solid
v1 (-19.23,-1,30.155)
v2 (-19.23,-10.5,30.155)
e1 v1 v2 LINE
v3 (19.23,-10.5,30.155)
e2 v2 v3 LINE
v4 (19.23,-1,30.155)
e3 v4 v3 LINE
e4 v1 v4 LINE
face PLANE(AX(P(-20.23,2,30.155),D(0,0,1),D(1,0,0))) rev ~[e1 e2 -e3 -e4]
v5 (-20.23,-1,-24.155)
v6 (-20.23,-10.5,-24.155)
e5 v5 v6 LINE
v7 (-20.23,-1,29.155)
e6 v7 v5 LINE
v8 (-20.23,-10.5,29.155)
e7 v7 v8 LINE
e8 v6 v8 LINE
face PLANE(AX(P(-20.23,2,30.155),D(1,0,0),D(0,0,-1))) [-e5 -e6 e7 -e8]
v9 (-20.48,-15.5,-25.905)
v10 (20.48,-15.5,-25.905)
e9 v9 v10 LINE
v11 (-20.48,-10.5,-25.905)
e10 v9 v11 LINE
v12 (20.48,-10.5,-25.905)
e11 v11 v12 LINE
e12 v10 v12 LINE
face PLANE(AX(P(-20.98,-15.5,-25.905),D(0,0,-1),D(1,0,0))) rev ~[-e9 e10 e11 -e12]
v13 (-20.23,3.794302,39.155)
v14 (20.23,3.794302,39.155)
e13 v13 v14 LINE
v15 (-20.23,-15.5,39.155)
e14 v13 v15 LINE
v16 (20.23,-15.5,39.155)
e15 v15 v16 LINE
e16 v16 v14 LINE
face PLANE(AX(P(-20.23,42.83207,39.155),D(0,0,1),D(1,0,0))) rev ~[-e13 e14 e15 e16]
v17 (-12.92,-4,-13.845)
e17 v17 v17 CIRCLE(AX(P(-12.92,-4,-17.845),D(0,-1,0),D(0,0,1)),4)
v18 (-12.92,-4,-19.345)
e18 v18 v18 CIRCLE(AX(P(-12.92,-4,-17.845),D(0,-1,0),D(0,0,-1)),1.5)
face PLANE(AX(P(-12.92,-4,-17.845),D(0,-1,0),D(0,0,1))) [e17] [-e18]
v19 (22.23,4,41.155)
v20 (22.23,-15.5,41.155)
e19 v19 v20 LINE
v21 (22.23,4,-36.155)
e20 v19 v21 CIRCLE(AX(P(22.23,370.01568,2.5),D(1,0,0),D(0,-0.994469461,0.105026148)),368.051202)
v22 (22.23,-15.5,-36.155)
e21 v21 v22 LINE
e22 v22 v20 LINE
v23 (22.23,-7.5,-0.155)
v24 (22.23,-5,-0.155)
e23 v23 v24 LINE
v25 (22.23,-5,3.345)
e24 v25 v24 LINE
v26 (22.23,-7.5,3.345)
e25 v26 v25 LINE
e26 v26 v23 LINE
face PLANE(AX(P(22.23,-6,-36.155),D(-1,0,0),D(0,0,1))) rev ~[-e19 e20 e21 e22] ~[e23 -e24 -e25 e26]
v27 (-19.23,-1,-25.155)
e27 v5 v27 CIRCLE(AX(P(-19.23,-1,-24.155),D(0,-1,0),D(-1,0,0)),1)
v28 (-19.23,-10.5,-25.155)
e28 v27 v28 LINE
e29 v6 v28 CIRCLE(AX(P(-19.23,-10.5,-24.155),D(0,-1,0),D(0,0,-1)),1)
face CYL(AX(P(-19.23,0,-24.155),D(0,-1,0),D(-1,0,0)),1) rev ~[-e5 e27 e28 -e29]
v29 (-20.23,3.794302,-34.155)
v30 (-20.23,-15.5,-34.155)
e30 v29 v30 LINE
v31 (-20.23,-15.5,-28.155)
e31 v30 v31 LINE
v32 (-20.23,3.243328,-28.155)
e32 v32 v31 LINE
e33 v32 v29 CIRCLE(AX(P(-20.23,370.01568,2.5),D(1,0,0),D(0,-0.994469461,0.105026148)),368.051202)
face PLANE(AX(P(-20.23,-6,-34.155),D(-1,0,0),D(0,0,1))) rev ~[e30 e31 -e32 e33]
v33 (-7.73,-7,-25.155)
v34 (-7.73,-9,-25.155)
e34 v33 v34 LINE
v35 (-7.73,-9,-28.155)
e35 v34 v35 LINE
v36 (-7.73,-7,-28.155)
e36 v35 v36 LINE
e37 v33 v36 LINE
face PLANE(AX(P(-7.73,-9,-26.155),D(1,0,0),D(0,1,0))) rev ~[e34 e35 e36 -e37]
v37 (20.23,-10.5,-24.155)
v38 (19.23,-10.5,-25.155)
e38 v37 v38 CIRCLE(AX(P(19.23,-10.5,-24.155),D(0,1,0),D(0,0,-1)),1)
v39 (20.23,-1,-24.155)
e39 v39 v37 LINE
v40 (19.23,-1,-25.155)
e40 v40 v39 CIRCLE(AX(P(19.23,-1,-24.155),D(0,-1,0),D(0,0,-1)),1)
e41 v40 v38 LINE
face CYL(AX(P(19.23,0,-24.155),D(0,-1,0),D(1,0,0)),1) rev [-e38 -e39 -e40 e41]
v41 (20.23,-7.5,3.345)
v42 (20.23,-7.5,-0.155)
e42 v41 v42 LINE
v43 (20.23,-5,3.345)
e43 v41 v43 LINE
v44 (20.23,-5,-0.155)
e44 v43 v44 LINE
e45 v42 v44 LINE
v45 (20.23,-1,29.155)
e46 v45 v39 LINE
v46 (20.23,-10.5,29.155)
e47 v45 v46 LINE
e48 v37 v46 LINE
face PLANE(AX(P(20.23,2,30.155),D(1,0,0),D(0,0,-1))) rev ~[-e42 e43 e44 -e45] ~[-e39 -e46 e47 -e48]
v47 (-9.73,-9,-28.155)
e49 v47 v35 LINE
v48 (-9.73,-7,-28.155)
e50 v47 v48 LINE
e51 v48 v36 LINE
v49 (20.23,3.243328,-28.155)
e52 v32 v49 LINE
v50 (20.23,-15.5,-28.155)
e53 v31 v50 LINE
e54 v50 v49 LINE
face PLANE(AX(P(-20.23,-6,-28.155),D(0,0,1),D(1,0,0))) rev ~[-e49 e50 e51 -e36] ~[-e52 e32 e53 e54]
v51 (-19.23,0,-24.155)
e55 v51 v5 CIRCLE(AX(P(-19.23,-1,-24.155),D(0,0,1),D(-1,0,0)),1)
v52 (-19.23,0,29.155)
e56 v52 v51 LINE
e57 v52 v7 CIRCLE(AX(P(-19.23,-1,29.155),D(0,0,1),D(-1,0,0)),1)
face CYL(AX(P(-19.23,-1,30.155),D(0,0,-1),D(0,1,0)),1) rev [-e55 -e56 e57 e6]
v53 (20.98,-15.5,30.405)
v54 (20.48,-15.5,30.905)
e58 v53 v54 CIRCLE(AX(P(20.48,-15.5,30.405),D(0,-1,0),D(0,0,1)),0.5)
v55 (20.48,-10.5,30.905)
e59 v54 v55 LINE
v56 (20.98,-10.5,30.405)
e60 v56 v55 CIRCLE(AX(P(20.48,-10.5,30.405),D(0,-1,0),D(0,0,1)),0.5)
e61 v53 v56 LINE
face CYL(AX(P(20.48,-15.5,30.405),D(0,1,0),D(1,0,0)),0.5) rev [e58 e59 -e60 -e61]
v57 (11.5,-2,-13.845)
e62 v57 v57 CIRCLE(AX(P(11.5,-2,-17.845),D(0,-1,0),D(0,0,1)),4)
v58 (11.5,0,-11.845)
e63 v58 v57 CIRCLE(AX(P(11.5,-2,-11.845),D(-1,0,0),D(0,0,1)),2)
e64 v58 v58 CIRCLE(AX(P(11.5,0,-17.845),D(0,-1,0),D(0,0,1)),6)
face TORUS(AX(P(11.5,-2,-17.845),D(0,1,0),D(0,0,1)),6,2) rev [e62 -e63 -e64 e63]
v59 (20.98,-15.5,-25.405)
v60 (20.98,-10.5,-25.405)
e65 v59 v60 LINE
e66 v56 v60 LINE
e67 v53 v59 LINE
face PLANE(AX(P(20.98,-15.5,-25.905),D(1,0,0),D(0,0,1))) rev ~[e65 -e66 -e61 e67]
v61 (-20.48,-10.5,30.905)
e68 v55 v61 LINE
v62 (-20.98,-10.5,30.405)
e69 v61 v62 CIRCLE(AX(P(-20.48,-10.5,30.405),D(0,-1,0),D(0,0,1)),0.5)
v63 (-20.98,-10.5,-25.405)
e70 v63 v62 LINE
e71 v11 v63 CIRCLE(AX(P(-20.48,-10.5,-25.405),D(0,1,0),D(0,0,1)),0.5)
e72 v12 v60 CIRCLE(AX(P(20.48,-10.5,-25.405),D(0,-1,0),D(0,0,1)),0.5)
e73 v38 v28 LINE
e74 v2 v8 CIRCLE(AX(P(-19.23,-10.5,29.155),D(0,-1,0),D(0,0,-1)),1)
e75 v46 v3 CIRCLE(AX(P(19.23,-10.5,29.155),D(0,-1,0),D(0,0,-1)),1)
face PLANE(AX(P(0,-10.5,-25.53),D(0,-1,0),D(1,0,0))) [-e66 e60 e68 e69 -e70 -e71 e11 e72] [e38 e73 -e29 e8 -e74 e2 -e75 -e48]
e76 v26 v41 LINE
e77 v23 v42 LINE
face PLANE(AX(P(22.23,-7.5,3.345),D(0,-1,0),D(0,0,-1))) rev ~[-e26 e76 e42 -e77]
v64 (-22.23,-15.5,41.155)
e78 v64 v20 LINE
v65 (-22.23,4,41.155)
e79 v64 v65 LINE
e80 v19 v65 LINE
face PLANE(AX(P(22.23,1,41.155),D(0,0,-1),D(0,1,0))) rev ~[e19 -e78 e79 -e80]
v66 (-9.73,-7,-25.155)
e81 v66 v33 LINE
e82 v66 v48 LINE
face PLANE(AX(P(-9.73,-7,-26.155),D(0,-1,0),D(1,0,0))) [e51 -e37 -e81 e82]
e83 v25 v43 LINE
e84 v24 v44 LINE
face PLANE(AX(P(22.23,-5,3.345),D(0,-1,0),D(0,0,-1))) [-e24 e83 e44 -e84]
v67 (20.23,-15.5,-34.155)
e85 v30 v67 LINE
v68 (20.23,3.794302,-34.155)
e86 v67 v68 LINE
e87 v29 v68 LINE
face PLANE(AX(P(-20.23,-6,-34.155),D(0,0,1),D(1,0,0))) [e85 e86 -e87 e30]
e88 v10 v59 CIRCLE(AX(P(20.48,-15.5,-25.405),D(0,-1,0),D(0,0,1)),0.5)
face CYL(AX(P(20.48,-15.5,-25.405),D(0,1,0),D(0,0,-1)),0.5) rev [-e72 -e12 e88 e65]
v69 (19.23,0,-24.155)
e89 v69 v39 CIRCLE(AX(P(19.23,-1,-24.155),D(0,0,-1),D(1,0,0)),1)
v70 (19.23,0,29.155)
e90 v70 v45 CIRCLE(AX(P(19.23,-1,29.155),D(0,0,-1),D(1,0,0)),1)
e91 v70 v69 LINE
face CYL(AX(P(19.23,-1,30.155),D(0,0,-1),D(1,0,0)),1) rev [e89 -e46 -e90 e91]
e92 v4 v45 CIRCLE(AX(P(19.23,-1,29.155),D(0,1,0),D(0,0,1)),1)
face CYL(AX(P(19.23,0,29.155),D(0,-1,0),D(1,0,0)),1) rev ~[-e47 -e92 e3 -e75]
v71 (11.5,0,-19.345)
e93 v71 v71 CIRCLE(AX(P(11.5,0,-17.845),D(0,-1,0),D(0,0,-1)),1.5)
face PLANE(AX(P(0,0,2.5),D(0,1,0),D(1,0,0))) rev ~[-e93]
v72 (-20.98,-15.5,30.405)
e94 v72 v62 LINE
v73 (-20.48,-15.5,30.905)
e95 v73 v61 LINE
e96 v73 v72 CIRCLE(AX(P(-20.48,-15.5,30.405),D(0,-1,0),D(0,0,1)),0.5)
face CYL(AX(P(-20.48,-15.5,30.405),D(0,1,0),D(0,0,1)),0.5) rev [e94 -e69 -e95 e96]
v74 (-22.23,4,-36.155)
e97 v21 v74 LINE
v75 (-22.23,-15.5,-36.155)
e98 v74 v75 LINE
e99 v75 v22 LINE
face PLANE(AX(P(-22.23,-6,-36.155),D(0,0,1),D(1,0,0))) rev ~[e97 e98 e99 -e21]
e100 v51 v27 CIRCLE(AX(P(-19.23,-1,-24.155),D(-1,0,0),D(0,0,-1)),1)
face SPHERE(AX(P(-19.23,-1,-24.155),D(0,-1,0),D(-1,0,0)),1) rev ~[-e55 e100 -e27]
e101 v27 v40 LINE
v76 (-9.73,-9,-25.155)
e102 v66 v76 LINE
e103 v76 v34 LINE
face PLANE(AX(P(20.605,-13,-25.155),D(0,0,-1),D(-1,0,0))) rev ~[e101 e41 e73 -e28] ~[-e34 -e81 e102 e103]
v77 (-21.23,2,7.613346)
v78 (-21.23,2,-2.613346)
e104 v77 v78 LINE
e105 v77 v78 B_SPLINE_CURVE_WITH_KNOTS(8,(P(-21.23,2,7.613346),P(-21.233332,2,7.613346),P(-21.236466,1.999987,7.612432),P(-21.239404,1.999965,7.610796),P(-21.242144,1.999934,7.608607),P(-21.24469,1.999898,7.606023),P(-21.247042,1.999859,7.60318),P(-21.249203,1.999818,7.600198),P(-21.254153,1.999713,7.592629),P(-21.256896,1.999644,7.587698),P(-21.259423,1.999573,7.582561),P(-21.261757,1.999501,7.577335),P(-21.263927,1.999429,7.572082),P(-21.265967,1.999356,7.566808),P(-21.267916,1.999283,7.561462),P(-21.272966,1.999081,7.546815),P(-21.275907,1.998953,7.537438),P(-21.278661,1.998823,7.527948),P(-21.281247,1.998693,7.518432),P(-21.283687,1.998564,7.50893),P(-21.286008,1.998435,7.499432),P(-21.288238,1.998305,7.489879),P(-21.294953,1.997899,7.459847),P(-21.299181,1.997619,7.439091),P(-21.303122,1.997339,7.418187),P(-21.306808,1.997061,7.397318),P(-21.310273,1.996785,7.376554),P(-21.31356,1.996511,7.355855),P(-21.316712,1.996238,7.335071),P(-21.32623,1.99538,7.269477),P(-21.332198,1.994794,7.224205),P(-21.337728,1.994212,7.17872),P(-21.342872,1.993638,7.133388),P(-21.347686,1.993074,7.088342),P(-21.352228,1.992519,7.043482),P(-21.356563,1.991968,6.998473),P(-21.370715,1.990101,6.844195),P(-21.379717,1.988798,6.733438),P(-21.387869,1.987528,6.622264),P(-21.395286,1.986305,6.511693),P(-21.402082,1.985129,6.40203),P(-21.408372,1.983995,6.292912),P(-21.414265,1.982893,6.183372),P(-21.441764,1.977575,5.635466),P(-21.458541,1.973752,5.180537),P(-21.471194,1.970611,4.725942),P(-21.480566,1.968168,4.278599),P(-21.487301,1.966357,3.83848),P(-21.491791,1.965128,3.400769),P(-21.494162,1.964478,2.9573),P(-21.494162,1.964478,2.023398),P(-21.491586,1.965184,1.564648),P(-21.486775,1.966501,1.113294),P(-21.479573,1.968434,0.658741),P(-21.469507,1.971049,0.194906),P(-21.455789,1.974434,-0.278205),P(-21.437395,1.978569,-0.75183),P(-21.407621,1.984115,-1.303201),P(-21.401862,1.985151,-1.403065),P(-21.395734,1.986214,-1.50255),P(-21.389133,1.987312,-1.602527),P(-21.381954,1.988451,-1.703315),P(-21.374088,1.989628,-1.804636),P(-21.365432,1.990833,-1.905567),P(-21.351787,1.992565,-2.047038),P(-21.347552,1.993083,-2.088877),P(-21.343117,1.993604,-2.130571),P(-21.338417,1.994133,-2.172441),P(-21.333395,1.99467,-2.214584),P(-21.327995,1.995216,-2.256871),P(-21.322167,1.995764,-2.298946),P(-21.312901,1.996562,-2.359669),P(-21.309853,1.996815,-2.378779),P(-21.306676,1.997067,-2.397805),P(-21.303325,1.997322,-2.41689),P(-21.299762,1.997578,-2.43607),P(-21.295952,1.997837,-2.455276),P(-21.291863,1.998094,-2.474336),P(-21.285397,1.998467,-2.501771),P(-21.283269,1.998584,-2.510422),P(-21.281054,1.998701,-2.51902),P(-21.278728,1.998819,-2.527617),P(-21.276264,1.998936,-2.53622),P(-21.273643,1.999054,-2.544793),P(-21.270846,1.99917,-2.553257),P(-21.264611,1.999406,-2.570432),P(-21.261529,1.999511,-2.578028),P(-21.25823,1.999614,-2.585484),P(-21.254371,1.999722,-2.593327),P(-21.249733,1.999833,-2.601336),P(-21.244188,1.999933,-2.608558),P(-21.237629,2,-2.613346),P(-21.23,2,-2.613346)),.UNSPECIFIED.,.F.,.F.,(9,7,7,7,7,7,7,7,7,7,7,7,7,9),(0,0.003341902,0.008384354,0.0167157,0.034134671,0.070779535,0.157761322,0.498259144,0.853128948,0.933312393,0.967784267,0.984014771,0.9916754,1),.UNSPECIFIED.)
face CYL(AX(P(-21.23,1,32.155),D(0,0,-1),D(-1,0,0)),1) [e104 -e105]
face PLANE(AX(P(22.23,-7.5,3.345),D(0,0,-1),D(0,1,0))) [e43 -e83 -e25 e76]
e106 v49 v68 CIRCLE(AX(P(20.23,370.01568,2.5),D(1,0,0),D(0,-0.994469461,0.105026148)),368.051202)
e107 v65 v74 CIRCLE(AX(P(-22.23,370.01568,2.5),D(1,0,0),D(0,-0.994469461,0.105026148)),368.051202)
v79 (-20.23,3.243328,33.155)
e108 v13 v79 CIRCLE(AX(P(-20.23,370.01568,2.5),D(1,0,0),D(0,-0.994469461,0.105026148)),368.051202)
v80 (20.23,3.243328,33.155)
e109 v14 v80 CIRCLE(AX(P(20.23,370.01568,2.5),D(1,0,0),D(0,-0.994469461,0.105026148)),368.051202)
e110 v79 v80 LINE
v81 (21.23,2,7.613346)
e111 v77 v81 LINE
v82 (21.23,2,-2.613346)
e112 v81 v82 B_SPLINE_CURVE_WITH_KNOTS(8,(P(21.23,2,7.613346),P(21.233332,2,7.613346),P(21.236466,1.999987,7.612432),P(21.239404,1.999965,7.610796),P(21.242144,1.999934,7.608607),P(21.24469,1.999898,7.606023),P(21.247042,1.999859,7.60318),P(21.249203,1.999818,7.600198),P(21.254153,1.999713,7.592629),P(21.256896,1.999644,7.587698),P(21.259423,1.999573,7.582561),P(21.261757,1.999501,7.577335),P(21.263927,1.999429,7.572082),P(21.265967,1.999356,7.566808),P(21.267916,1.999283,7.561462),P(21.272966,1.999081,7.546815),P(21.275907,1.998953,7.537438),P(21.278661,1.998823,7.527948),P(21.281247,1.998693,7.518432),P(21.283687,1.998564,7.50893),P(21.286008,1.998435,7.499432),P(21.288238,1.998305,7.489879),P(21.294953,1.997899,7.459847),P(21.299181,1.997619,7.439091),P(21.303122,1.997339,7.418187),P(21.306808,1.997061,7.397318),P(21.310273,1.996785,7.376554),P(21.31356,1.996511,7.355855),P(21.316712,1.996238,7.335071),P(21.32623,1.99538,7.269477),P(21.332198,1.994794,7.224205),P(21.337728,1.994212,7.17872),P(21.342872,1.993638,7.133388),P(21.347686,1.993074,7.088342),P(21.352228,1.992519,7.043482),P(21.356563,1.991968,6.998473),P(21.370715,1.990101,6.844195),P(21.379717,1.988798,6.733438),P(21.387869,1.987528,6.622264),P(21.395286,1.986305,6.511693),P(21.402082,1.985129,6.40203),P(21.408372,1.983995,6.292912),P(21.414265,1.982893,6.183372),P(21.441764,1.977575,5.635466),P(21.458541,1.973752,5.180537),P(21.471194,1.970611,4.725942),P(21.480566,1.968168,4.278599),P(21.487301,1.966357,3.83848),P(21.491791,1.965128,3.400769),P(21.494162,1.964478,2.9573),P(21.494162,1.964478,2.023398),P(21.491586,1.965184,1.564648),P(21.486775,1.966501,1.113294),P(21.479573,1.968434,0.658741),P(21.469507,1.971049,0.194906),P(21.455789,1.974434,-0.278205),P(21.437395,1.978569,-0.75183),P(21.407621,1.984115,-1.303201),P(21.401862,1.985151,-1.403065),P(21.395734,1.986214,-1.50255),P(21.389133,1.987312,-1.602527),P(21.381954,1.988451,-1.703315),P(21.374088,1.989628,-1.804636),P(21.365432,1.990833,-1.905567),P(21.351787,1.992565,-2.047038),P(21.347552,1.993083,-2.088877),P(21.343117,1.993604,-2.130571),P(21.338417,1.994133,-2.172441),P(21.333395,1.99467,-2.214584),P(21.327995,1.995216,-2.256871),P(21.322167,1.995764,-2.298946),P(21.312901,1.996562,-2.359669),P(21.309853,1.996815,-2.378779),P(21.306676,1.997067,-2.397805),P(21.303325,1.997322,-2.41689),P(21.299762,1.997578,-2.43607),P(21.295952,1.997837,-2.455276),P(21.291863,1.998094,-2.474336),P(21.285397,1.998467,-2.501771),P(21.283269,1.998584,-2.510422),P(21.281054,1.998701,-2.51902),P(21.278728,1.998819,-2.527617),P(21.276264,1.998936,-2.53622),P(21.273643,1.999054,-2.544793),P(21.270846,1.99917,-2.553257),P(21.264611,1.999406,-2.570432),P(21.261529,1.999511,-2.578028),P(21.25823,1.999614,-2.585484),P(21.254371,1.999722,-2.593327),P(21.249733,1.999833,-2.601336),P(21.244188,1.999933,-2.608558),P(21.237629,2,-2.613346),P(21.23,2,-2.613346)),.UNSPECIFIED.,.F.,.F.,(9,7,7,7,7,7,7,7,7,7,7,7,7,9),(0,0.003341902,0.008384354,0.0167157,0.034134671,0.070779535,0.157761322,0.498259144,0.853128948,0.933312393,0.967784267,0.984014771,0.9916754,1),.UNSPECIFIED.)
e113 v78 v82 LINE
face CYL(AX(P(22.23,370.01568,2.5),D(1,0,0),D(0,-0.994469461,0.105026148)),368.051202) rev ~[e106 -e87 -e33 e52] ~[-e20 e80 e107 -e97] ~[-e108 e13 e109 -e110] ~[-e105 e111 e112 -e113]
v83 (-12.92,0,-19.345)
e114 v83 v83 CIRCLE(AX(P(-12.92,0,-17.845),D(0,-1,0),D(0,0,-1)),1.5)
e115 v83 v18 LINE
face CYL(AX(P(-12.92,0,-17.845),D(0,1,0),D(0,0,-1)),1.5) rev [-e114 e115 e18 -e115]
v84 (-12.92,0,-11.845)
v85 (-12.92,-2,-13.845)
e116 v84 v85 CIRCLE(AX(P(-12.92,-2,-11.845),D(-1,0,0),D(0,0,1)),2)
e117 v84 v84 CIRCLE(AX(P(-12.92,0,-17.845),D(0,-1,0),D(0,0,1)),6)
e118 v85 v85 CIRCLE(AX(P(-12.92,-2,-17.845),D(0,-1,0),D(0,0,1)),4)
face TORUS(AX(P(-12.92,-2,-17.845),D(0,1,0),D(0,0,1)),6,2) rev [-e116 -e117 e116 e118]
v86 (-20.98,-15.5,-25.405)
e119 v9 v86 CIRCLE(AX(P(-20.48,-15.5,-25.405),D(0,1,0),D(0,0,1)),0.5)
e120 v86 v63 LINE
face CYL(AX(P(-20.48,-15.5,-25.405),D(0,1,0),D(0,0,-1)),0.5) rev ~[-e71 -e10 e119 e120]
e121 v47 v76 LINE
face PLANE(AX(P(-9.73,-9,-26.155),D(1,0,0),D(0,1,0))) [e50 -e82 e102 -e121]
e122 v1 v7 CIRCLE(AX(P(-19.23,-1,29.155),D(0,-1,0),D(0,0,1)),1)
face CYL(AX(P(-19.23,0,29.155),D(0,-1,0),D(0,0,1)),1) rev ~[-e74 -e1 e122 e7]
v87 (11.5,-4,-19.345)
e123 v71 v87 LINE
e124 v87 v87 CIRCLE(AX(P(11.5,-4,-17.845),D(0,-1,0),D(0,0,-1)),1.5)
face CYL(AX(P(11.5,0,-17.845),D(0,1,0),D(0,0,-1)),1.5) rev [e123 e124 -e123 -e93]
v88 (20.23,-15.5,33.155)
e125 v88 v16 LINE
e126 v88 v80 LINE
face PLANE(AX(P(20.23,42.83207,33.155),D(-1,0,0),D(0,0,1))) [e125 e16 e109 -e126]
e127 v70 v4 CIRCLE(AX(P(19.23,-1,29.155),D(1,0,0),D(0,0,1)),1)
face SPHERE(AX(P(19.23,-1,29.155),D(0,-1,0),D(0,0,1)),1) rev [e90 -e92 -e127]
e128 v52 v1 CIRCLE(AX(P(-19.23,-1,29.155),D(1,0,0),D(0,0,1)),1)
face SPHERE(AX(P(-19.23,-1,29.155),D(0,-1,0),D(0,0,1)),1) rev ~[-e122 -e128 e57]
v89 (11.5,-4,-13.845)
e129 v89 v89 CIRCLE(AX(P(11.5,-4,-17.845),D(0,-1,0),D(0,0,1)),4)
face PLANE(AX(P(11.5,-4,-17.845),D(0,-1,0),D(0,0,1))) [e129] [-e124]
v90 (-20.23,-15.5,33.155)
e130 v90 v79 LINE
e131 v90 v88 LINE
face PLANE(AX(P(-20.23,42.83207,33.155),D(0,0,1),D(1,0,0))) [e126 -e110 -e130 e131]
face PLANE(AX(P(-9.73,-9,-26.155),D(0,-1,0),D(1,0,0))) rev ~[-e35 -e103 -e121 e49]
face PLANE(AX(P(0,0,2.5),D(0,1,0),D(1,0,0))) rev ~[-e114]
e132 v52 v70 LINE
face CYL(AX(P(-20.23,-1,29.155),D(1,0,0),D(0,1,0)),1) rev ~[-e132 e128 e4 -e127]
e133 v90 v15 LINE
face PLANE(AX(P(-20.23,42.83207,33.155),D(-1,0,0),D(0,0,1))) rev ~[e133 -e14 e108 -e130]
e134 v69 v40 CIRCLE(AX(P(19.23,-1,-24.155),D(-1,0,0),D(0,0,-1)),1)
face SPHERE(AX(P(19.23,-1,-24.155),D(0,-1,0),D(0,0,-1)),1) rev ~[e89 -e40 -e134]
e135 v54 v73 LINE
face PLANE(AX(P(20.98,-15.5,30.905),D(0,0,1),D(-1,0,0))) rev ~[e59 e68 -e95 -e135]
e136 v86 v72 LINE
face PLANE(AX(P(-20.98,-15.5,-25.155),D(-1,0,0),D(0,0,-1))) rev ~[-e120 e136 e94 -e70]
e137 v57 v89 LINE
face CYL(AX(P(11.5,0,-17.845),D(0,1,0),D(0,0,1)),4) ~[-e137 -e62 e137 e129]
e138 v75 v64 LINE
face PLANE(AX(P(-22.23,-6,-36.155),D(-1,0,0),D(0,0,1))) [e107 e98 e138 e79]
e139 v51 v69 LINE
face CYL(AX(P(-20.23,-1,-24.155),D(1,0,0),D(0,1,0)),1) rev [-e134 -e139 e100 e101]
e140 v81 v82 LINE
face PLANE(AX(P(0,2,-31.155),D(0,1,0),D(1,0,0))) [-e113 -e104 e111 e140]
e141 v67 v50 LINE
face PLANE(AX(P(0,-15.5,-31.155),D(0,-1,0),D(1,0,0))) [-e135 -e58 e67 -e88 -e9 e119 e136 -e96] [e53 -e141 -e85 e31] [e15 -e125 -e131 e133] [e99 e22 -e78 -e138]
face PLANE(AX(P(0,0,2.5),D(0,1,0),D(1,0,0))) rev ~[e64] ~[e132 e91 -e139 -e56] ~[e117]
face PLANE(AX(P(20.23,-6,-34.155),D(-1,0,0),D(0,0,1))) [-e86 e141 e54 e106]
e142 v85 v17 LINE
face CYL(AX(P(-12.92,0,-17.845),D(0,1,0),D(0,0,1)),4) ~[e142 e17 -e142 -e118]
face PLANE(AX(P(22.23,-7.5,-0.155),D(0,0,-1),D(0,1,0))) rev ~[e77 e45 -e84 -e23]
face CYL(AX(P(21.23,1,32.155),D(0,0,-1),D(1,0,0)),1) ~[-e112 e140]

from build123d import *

# Parameters (mm, degrees)
SKETCH2_W               = 40.46
SKETCH2_H               = 55.31
BOSS_EXTRUDE1_DEPTH     = 2
SKETCH3_R               = 4
SKETCH3_R_2             = 1.5
BOSS_EXTRUDE2_DEPTH     = 4
FILLET1_R               = 2
SKETCH6_W               = 44.46
SKETCH6_H               = 59.31
SKETCH6_W_2             = 40.46
SKETCH6_H_2             = 55.31
BOSS_EXTRUDE3_DEPTH     = 17.5
SKETCH9_W               = 0.75
SKETCH9_H               = 5
CUT_EXTRUDE1_DEPTH      = 5
FILLET3_R               = 1
FILLET4_R               = 0.5
SKETCH12_W              = 44.46
SKETCH12_H              = 10
SKETCH12_W_2            = 40.46
SKETCH12_H_2            = 6
BOSS_EXTRUDE4_DEPTH     = 8
FILLET5_R               = 1
CUT_EXTRUDE2_DEPTH      = 10
CUT_EXTRUDE2_DEPTH_BACK = 8
SKETCH11_W              = 2
SKETCH11_H              = 2
SKETCH13_W              = 3.5
SKETCH13_H              = 2.5
CUT_EXTRUDE3_DEPTH      = 8
BOSS_EXTRUDE5_REACH     = 64.535
CUT_EXTRUDE4_DEPTH      = 48.832070201
CUT_EXTRUDE4_DEPTH_BACK = 48.832070201
SKETCH16_W              = 40.46
SKETCH16_H              = 6
SKETCH19_W              = 44.46
SKETCH19_H              = 10
SKETCH19_W_2            = 40.46
SKETCH19_H_2            = 6
BOSS_EXTRUDE7_DEPTH     = 9.5
SKETCH20_W              = 2
SKETCH20_H              = 2
CUT_EXTRUDE5_DEPTH      = 5


with BuildPart() as part:
    # Sketch2 → Boss-Extrude1 (new body)
    with BuildSketch(Plane(origin=(0, 0, 0), x_dir=(1, 0, 0), z_dir=(0, 1, 0))):
        with Locations((0, -2.5)):
            Rectangle(SKETCH2_W, SKETCH2_H)
    extrude(amount=BOSS_EXTRUDE1_DEPTH)

    # Sketch3 → Boss-Extrude2 (add)
    # profile 1 of 2: a face of its own
    with BuildSketch(Plane.XZ):
        with Locations(Location((-12.92, -17.845, 0), (0, 0, 90))):
            Circle(SKETCH3_R)
        with Locations(Location((-12.92, -17.845, 0), (0, 0, 270))):
            Circle(SKETCH3_R_2, mode=Mode.SUBTRACT)
    # profile 2 of 2: a face of its own
    with BuildSketch(Plane.XZ):
        with Locations(Location((11.5, -17.845, 0), (0, 0, 90))):
            Circle(SKETCH3_R)
        with Locations(Location((11.5, -17.845, 0), (0, 0, 270))):
            Circle(SKETCH3_R_2, mode=Mode.SUBTRACT)
    extrude(amount=BOSS_EXTRUDE2_DEPTH)

    # Fillet1
    fillet1_edges = [part.edges().sort_by_distance(p)[0] for p in [
        (-12.92, 0, -21.845),
        (11.5, 0, -21.845),
    ]]
    fillet(fillet1_edges, radius=FILLET1_R)

    # Sketch6 → Boss-Extrude3 (add)
    with BuildSketch(Plane(origin=(0, 2, 0), x_dir=(1, 0, 0), z_dir=(0, 1, 0))):
        with Locations((0, -2.5)):
            Rectangle(SKETCH6_W, SKETCH6_H)
        with Locations((0, -2.5)):
            Rectangle(SKETCH6_W_2, SKETCH6_H_2, mode=Mode.SUBTRACT)
    extrude(amount=-BOSS_EXTRUDE3_DEPTH)

    # Cut-Sweep1: sweep along a curve in space
    with BuildLine() as cut_sweep1_path:
        Line((-20.23, -15.5, -25.155), (-20.23, -15.5, 30.155))
    # Sketch9 → Cut-Sweep1 (sweep, cut)
    with BuildSketch(Plane(origin=(0, 0, 30.155), x_dir=(-1, 0, 0), z_dir=(0, 0, -1))):
        with Locations((20.605, -13)):
            Rectangle(SKETCH9_W, SKETCH9_H)
        with Locations((-20.605, -13)):
            Rectangle(SKETCH9_W, SKETCH9_H)
    sweep(path=cut_sweep1_path.line, mode=Mode.SUBTRACT)

    # Sketch10 → Cut-Extrude1 (cut)
    with BuildSketch(Plane.XZ.offset(15.5)):
        Polygon((-20.23, 30.155), (20.23, 30.155), (20.98, 30.155), (20.98, 30.905), (-20.98, 30.905), (-20.98, 30.155), align=None)
        Polygon((20.23, -25.155), (-20.23, -25.155), (-20.98, -25.155), (-20.98, -25.905), (20.98, -25.905), (20.98, -25.155), align=None)
    extrude(amount=-CUT_EXTRUDE1_DEPTH, mode=Mode.SUBTRACT)

    # Fillet3
    fillet3_edges = [part.edges().sort_by_distance(p)[0] for p in [
        (22.23, -6.75, 32.155),
        (22.23, -6.75, -27.155),
        (-22.23, -6.75, -27.155),
        (-22.23, -6.75, 32.155),
        (0, 2, -27.155),
        (22.23, 2, 2.5),
        (0, 2, 32.155),
        (-22.23, 2, 2.5),
        (-20.23, -5.25, 30.155),
        (-20.23, -5.25, -25.155),
        (20.23, -5.25, -25.155),
        (20.23, -5.25, 30.155),
        (0, 0, 30.155),
        (-20.23, 0, 2.5),
        (0, 0, -25.155),
        (20.23, 0, 2.5),
    ]]
    fillet(fillet3_edges, radius=FILLET3_R)

    # Fillet4
    fillet4_edges = [part.edges().sort_by_distance(p)[0] for p in [
        (20.98, -13, -25.905),
        (-20.98, -13, -25.905),
        (-20.98, -13, 30.905),
        (20.98, -13, 30.905),
    ]]
    fillet(fillet4_edges, radius=FILLET4_R)

    # Sketch12 → Boss-Extrude4 (add)
    # profile 1 of 2: a face of its own
    with BuildSketch(Plane(origin=(0, 2, 0), x_dir=(1, 0, 0), z_dir=(0, 1, 0))):
        with Locations((0, 31.155)):
            Rectangle(SKETCH12_W, SKETCH12_H)
        with Locations((0, 31.155)):
            Rectangle(SKETCH12_W_2, SKETCH12_H_2, mode=Mode.SUBTRACT)
    # profile 2 of 2: a face of its own
    with BuildSketch(Plane(origin=(0, 2, 0), x_dir=(1, 0, 0), z_dir=(0, 1, 0))):
        with Locations((0, -36.155)):
            Rectangle(SKETCH12_W, SKETCH12_H)
        with Locations((0, -36.155)):
            Rectangle(SKETCH12_W_2, SKETCH12_H_2, mode=Mode.SUBTRACT)
    extrude(amount=-BOSS_EXTRUDE4_DEPTH)

    # Fillet5
    fillet5_edges = [part.edges().sort_by_distance(p)[0] for p in [
        (-22.23, 2, 36.155),
        (-22.23, 2, -31.155),
        (22.23, 2, 36.155),
        (22.23, 2, -31.155),
    ]]
    fillet(fillet5_edges, radius=FILLET5_R)

    # Sketch11 → Cut-Extrude2 (cut, two sides: drawn at the far end of the back side and taken through both)
    with BuildSketch(Plane(origin=(0, 0, -27.155), x_dir=(-1, 0, 0), z_dir=(0, 0, -1)).offset(-CUT_EXTRUDE2_DEPTH_BACK)):
        with Locations((8.73, -8)):
            Rectangle(SKETCH11_W, SKETCH11_H)
    extrude(amount=CUT_EXTRUDE2_DEPTH + CUT_EXTRUDE2_DEPTH_BACK, mode=Mode.SUBTRACT)

    # Sketch13 → Cut-Extrude3 (cut)
    with BuildSketch(Plane(origin=(22.23, 0, 0), x_dir=(0, 0, -1), z_dir=(1, 0, 0))):
        with Locations((-1.595, -6.25)):
            Rectangle(SKETCH13_W, SKETCH13_H)
    extrude(amount=-CUT_EXTRUDE3_DEPTH, mode=Mode.SUBTRACT)

    # Boss-Extrude5: up to this face of the body (flat: up to its plane)
    boss_extrude5_end = Plane(part.part.faces().sort_by_distance((-22.23, -6.637443983, 2.5))[0])
    # Sketch14 → Boss-Extrude5 (add, up to the picked face)
    with BuildSketch(Plane(origin=(22.23, 0, 0), x_dir=(0, 0, -1), z_dir=(1, 0, 0)), mode=Mode.PRIVATE) as boss_extrude5_sk1:
        with BuildLine():
            Line((36.155, 4), (36.155, 1))
            Line((36.155, 1), (-41.155, 1))
            Line((-41.155, 1), (-41.155, 4))
            ThreePointArc((-41.155, 4), (-2.5, 1.964478359), (36.155, 4))
        make_face()
    boss_extrude5_tool1 = split(extrude(boss_extrude5_sk1.sketch, amount=-BOSS_EXTRUDE5_REACH, mode=Mode.PRIVATE), bisect_by=boss_extrude5_end, keep=Keep.BOTH, mode=Mode.PRIVATE)
    add(boss_extrude5_tool1.solids().sort_by(Axis((22.23, 1.933161, 2.5), (-1, 0, 0)))[0])

    # Sketch16 → Cut-Extrude4 (cut, two sides: drawn at the far end of the back side and taken through both)
    with BuildSketch(Plane.XZ.offset(6).offset(-CUT_EXTRUDE4_DEPTH_BACK)):
        with Locations((0, 36.155)):
            Rectangle(SKETCH16_W, SKETCH16_H)
        with Locations((0, -31.155)):
            Rectangle(SKETCH16_W, SKETCH16_H)
    extrude(amount=CUT_EXTRUDE4_DEPTH + CUT_EXTRUDE4_DEPTH_BACK, mode=Mode.SUBTRACT)

    # Sketch19 → Boss-Extrude7 (add)
    # profile 1 of 2: a face of its own
    with BuildSketch(Plane.XZ.offset(6)):
        with Locations((0, -31.155)):
            Rectangle(SKETCH19_W, SKETCH19_H)
        with Locations((0, -31.155)):
            Rectangle(SKETCH19_W_2, SKETCH19_H_2, mode=Mode.SUBTRACT)
    # profile 2 of 2: a face of its own
    with BuildSketch(Plane.XZ.offset(6)):
        with Locations((0, 36.155)):
            Rectangle(SKETCH19_W, SKETCH19_H)
        with Locations((0, 36.155)):
            Rectangle(SKETCH19_W_2, SKETCH19_H_2, mode=Mode.SUBTRACT)
    extrude(amount=BOSS_EXTRUDE7_DEPTH)

    # Sketch20 → Cut-Extrude5 (cut)
    with BuildSketch(Plane.XY.offset(-26.155)):
        with Locations((-8.73, -8)):
            Rectangle(SKETCH20_W, SKETCH20_H)
    extrude(amount=-CUT_EXTRUDE5_DEPTH, mode=Mode.SUBTRACT)


solid = part.part
